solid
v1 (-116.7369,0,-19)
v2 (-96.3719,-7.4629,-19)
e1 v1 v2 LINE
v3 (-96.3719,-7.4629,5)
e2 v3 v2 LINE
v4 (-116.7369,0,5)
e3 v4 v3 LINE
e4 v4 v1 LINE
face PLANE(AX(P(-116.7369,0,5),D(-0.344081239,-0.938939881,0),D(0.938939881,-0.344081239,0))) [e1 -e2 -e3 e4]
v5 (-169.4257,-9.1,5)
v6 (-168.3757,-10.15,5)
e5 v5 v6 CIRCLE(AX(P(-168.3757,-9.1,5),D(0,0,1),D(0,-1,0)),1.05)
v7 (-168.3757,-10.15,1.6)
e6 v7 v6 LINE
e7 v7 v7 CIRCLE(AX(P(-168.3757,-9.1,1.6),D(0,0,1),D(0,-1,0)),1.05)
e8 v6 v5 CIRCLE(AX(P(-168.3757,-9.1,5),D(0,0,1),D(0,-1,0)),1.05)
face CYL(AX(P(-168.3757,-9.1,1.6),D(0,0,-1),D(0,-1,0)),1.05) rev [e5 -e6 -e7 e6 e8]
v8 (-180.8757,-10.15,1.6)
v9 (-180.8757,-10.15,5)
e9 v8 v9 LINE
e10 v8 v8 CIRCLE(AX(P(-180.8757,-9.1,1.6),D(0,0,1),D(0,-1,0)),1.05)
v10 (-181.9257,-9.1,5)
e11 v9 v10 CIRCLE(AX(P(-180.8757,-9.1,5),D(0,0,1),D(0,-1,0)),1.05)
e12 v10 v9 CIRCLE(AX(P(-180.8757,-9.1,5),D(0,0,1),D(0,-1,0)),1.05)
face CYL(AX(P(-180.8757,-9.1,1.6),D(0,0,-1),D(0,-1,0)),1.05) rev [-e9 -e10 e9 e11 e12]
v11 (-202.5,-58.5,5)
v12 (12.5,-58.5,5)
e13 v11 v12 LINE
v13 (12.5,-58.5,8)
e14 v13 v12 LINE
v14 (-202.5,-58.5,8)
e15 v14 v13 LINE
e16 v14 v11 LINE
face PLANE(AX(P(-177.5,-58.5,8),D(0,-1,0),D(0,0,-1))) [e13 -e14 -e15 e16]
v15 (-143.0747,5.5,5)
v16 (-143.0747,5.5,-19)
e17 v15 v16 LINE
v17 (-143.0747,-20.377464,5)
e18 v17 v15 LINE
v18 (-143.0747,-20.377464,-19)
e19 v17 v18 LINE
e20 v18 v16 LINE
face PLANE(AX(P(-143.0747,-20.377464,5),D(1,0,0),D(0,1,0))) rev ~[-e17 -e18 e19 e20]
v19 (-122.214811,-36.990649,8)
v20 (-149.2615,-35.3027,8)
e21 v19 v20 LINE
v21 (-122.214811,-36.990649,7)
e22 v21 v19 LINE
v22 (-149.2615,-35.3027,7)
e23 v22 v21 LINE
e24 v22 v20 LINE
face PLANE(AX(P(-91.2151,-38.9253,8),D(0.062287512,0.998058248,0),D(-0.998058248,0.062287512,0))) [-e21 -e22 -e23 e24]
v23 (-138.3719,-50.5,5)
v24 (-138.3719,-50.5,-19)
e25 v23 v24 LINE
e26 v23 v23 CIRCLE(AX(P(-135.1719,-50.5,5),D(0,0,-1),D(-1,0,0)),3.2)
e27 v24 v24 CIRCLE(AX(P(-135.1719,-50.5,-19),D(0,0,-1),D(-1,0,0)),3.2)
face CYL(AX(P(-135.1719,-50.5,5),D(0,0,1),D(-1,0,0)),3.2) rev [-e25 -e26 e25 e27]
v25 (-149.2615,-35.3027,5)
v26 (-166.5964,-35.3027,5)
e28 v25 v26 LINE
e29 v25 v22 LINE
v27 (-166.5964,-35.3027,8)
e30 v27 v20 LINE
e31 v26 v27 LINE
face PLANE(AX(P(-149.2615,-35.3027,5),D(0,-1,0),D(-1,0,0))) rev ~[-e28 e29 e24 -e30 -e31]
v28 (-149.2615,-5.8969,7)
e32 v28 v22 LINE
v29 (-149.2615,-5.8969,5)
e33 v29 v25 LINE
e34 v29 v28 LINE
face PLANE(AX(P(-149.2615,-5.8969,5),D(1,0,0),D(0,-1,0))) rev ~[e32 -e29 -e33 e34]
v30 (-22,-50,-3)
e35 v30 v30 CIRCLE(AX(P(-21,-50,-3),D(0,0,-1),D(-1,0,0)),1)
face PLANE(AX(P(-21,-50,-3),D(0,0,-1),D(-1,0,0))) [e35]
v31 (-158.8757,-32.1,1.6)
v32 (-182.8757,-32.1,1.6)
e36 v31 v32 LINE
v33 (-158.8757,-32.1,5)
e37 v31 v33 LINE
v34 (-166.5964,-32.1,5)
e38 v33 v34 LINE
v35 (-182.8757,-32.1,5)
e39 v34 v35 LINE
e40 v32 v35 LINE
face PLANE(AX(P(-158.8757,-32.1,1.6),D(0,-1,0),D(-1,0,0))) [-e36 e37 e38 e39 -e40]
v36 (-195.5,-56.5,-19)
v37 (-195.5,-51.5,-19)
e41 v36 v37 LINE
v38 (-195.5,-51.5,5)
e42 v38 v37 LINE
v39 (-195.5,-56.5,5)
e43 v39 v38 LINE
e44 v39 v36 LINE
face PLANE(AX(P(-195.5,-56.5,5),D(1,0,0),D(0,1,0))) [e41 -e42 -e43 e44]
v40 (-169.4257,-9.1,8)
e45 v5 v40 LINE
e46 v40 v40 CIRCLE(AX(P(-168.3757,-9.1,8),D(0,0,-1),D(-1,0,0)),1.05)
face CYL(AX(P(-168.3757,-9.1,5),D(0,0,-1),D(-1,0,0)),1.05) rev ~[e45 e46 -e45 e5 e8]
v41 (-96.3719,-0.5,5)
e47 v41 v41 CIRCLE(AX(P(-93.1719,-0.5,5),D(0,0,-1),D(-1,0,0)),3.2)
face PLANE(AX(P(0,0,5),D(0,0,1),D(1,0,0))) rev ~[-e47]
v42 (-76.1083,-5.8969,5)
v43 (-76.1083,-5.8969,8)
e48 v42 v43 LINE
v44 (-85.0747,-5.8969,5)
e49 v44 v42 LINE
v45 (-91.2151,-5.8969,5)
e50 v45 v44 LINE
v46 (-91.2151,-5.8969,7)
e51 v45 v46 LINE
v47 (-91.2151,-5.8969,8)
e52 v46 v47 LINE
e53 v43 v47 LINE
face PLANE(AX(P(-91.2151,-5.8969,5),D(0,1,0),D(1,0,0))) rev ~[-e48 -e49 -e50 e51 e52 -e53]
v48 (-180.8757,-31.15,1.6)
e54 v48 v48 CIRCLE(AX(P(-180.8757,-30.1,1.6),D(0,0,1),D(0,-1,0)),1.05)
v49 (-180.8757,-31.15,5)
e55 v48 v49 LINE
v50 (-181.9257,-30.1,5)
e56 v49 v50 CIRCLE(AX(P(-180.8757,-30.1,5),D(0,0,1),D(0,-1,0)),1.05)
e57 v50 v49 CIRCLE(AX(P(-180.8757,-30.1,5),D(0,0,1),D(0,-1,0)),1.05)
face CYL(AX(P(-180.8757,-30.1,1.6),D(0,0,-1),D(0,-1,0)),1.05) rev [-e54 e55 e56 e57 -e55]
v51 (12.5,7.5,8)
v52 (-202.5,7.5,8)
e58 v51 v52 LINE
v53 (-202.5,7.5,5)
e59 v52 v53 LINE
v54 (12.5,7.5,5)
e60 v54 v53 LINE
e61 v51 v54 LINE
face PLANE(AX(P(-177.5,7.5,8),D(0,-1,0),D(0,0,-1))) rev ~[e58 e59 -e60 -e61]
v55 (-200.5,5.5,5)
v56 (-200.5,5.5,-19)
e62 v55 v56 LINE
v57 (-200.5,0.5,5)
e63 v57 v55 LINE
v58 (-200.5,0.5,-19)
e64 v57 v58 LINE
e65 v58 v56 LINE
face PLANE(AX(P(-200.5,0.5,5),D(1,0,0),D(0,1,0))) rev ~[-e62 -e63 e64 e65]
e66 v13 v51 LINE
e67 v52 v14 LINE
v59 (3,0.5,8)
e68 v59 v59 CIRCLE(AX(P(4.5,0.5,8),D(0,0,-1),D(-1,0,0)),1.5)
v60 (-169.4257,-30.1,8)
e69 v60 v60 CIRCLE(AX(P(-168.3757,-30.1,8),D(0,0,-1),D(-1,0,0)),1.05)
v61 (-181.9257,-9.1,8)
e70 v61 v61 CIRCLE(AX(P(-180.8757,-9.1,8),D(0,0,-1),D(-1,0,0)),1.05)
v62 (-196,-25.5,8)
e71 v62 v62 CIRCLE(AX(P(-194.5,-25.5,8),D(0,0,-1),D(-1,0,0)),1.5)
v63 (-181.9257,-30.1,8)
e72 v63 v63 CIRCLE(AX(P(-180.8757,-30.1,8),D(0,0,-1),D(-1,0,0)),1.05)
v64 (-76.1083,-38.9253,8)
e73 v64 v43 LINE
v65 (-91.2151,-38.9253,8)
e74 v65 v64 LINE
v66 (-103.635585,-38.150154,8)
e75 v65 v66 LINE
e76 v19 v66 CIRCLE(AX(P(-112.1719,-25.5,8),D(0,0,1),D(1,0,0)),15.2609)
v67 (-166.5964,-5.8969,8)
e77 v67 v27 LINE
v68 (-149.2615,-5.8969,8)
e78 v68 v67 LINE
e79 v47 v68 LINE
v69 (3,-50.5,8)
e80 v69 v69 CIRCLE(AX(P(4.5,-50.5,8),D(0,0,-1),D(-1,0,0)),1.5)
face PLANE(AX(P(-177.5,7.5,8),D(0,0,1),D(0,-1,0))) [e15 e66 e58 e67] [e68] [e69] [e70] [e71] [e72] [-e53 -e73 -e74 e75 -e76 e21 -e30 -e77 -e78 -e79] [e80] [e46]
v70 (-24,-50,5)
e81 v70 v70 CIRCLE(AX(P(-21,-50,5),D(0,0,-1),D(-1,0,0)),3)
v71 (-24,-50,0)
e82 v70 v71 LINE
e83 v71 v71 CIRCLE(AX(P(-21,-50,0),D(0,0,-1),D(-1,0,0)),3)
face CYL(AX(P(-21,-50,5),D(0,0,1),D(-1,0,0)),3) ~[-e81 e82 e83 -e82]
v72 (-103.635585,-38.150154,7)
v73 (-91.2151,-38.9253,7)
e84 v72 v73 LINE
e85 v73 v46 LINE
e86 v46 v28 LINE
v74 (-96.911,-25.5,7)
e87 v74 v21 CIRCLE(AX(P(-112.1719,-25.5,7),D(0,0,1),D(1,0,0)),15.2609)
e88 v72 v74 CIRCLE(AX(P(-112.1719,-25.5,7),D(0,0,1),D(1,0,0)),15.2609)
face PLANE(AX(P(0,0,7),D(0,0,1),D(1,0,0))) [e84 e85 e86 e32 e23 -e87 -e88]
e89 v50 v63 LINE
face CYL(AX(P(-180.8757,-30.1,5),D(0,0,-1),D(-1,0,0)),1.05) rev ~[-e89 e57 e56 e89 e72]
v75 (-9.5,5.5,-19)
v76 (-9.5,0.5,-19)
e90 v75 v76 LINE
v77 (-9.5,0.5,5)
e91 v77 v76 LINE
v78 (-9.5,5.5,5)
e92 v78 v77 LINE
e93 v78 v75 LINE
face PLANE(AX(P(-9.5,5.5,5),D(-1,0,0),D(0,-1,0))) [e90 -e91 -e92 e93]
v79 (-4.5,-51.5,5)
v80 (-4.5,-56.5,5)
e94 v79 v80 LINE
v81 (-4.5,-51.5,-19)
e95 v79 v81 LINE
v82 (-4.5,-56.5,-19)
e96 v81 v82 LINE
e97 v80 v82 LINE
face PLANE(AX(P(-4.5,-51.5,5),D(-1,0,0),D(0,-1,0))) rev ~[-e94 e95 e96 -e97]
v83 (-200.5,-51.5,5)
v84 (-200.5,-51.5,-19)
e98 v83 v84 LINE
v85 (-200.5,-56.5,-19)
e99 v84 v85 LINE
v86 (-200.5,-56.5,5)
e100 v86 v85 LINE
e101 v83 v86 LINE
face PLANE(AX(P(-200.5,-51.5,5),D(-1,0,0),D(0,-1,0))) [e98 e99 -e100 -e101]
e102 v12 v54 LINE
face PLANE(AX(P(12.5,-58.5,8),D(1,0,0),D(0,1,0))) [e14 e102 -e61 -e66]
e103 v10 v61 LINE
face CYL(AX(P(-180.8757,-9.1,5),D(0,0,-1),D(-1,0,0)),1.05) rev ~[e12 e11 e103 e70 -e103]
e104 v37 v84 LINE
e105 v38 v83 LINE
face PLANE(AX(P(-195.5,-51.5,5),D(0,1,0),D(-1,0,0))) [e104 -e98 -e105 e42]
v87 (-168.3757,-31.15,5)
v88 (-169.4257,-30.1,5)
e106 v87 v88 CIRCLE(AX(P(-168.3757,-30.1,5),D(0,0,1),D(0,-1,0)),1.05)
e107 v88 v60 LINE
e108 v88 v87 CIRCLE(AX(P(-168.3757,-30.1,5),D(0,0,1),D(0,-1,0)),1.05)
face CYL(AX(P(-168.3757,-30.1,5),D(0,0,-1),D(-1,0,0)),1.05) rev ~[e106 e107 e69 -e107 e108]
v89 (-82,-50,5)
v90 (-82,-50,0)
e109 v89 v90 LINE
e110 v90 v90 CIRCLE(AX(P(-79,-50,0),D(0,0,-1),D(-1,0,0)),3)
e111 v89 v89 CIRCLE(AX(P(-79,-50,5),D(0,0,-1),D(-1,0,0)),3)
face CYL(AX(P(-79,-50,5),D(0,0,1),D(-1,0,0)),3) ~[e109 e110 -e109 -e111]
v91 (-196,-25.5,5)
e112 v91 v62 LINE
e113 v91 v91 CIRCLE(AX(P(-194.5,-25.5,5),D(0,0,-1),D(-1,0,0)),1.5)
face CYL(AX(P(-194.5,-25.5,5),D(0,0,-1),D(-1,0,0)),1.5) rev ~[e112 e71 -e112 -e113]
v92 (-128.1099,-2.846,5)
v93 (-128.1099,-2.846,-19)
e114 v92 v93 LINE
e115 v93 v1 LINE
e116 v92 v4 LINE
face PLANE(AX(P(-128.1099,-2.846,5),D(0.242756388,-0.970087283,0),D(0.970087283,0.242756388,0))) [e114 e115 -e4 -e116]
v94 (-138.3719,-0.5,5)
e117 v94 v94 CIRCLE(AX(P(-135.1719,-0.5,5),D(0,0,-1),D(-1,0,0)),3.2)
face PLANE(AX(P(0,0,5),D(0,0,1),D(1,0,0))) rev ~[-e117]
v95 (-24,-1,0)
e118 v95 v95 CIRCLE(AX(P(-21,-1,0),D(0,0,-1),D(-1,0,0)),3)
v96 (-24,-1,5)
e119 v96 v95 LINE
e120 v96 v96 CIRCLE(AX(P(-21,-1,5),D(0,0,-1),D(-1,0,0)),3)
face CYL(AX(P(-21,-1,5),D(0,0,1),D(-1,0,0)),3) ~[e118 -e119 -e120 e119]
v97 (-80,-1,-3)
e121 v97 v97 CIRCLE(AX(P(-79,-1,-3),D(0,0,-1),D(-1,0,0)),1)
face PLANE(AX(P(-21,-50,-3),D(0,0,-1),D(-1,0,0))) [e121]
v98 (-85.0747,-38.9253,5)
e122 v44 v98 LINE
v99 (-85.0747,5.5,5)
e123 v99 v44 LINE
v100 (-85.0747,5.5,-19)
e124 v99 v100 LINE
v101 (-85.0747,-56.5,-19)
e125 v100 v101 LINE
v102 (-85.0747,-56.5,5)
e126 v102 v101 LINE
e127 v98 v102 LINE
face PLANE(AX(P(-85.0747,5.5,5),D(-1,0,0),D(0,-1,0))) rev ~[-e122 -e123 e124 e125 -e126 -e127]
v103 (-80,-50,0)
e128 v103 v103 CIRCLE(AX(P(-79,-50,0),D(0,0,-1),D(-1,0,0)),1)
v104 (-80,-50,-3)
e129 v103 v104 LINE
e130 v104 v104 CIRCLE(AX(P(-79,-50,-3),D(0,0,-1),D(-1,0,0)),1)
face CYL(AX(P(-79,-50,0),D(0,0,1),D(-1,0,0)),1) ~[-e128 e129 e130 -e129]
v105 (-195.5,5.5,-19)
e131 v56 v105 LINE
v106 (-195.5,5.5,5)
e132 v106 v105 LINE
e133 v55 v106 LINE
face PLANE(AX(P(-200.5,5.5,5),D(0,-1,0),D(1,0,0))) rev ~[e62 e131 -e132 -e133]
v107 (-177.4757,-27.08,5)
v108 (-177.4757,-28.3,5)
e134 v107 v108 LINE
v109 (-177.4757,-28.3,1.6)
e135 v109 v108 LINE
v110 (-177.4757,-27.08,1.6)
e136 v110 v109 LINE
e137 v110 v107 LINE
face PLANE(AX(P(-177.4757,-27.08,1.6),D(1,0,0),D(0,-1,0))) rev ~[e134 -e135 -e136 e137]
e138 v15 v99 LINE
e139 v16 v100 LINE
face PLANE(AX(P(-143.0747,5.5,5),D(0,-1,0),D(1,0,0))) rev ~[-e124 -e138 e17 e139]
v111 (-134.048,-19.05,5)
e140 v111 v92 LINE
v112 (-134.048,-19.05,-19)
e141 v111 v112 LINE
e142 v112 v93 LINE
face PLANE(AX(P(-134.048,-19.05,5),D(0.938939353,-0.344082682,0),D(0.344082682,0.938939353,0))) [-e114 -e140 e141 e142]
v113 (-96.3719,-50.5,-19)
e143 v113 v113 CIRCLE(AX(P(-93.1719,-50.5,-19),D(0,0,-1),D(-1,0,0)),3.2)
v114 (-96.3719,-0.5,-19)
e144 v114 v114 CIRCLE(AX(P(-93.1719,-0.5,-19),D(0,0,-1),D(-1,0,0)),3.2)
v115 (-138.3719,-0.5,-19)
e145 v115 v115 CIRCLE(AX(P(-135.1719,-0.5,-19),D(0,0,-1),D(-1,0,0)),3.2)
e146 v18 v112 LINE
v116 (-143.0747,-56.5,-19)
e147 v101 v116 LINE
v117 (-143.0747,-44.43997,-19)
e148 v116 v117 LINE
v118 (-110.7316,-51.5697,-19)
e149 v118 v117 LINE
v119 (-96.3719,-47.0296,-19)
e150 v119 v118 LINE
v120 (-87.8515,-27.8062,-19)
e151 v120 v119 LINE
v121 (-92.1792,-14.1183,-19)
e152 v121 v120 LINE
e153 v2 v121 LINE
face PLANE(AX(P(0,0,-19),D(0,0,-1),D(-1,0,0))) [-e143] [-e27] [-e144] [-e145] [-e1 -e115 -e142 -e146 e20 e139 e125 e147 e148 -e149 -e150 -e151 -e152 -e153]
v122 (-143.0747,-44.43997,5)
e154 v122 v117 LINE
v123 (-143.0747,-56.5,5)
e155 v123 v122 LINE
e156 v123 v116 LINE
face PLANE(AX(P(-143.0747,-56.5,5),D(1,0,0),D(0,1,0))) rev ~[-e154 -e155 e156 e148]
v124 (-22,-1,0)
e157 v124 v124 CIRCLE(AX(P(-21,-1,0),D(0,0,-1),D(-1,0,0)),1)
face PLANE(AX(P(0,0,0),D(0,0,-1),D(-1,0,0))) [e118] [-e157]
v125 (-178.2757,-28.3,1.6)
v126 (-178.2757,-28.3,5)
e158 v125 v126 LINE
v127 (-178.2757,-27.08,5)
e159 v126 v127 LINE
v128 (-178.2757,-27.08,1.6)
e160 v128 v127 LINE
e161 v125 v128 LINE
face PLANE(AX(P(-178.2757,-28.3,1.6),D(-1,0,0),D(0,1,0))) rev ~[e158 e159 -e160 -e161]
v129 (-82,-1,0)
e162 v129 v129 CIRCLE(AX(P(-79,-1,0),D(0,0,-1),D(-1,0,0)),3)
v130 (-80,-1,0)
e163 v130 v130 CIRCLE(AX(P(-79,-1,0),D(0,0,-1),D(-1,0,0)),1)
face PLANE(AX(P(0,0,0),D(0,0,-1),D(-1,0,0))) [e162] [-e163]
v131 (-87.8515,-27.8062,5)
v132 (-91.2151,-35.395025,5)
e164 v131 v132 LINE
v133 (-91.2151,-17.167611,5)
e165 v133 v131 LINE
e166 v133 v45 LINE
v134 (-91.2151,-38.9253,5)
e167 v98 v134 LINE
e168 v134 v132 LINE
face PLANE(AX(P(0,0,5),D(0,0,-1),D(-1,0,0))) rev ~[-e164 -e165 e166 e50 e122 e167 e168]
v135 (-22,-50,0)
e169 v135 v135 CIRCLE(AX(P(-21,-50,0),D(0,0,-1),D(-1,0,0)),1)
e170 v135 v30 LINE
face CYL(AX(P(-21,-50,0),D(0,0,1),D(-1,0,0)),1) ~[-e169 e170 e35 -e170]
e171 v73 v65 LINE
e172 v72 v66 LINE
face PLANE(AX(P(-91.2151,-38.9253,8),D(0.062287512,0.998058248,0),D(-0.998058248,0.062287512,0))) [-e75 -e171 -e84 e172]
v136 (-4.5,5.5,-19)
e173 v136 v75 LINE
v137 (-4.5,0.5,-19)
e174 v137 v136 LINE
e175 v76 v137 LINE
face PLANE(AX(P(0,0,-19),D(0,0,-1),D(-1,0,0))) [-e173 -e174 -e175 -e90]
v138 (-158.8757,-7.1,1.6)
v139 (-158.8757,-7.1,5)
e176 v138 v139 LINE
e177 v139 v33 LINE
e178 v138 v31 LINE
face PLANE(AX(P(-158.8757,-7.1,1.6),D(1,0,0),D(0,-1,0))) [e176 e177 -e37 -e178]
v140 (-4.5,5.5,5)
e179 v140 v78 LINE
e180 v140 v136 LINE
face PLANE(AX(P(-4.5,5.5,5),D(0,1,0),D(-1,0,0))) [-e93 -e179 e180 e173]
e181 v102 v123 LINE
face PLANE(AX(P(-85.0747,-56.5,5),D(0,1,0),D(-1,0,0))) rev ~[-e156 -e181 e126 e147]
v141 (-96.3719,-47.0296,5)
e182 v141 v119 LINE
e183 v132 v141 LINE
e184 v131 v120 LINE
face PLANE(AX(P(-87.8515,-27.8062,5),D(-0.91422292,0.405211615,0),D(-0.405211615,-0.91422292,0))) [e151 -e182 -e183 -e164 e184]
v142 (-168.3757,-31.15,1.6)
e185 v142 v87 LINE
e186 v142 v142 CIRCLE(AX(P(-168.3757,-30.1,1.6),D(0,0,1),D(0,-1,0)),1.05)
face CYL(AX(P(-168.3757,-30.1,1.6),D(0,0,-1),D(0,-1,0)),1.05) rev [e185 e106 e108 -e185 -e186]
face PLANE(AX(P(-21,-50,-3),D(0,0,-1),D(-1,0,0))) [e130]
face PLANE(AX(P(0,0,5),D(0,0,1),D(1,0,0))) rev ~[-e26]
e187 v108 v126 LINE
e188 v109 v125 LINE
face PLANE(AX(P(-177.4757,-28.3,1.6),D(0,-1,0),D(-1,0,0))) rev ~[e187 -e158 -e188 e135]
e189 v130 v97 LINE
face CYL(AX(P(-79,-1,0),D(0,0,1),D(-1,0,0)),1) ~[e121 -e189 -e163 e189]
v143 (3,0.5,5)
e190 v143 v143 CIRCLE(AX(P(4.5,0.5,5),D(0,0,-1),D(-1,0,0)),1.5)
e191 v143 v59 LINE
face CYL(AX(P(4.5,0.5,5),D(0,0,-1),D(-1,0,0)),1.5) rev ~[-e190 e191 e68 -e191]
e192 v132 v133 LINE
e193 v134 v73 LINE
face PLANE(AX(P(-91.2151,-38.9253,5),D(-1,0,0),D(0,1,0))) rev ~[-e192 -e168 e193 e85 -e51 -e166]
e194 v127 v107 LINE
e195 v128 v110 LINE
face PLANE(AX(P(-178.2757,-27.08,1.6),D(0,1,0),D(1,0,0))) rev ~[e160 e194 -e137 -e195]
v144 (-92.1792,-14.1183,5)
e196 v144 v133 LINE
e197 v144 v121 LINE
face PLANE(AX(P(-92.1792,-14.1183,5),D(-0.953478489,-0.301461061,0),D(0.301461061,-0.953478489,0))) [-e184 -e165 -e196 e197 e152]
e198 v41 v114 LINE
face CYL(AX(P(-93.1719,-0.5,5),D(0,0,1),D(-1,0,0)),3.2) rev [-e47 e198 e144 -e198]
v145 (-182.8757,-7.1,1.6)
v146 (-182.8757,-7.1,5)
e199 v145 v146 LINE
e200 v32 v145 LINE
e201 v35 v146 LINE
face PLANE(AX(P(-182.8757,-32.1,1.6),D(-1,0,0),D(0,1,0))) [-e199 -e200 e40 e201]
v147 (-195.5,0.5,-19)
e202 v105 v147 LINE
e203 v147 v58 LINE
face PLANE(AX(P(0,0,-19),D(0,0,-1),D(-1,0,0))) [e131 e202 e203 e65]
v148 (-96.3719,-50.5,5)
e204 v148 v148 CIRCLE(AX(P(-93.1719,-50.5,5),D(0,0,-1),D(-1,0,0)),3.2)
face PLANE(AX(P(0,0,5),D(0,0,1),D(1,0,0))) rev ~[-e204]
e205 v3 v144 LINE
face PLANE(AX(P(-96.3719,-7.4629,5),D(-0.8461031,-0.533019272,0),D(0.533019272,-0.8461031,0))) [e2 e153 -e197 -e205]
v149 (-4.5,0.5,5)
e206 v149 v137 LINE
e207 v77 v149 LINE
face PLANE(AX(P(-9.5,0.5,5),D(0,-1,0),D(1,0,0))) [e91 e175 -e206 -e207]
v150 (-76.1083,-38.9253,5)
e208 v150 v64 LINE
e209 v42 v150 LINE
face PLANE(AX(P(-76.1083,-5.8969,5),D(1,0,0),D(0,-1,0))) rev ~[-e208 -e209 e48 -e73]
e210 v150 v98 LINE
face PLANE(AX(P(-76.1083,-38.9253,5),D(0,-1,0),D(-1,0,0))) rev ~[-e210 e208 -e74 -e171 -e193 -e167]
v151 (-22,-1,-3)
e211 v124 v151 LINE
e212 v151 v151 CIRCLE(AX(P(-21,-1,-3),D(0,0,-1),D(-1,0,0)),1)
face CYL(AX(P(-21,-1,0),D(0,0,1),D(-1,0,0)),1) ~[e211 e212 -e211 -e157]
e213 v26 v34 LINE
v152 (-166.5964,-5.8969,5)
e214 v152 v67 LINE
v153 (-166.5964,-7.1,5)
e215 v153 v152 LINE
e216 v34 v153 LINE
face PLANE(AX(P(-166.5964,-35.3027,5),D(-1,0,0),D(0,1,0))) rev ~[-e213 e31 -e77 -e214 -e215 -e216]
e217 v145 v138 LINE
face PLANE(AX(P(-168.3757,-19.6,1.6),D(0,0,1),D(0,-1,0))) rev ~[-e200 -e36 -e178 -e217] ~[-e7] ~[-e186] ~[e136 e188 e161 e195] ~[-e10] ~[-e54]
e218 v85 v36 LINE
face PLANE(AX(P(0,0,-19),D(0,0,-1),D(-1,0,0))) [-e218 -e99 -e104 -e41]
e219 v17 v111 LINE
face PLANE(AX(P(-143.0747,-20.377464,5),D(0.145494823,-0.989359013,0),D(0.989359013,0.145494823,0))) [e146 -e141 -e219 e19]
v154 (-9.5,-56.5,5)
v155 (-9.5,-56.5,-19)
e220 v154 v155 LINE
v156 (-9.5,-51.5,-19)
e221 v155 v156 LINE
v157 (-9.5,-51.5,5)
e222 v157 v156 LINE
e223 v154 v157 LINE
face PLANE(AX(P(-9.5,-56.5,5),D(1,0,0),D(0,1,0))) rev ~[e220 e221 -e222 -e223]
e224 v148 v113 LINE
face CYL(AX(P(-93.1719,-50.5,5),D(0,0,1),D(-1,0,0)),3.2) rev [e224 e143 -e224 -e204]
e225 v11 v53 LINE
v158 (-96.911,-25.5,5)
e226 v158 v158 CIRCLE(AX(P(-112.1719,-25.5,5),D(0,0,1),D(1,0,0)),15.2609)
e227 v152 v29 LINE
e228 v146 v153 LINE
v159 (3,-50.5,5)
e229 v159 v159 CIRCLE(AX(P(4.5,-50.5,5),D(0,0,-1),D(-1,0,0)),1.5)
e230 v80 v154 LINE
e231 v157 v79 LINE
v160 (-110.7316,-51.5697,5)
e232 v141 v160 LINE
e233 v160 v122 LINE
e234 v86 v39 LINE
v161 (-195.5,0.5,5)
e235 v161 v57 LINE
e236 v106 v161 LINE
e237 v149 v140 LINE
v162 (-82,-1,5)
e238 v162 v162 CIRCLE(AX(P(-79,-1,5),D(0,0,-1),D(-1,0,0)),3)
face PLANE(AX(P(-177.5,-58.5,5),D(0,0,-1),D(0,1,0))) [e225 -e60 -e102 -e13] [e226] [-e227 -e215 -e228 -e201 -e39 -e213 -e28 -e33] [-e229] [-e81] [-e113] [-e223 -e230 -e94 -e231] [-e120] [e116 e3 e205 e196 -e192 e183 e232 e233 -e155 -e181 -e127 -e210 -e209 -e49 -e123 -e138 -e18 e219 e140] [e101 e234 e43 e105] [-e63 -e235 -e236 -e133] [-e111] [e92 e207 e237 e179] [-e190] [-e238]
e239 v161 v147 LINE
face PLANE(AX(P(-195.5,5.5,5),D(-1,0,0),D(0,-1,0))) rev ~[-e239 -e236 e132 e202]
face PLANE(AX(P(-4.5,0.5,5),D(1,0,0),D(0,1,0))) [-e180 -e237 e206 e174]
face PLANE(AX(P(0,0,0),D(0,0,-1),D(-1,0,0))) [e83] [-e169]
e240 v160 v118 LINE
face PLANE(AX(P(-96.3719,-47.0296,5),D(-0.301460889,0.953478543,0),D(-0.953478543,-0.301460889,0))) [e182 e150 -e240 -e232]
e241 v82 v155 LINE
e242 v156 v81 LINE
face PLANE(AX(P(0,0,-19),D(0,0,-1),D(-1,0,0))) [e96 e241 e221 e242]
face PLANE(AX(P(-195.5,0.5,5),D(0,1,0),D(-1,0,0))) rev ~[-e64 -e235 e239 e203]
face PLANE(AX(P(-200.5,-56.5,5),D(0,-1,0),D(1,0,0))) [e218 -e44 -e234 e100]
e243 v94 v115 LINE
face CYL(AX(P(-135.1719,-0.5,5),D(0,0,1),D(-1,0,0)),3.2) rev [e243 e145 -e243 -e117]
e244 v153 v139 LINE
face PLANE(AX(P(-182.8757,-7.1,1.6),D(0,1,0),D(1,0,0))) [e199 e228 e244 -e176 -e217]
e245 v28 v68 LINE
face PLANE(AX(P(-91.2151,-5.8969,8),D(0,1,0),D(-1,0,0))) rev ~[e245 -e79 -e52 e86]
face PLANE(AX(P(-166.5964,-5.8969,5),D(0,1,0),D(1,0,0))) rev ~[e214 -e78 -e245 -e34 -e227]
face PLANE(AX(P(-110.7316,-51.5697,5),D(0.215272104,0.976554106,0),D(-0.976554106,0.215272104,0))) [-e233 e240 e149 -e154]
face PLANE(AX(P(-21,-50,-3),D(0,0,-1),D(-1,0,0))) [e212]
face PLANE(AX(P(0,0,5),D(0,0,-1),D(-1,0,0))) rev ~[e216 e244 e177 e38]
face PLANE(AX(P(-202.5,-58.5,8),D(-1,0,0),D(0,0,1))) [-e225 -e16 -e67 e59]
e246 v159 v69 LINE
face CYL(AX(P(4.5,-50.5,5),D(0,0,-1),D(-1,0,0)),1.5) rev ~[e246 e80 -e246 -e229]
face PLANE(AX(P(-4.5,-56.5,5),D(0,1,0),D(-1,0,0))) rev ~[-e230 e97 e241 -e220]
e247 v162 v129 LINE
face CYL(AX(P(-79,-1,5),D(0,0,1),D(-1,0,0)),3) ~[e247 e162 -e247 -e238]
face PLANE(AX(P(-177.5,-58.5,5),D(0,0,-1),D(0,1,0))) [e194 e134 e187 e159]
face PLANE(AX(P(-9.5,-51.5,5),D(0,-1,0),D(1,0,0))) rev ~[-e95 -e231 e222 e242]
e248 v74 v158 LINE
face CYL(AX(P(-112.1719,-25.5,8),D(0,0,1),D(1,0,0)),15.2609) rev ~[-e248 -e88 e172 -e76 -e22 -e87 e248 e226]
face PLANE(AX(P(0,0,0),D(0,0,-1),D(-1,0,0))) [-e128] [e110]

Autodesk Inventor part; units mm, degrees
ref_plane "YZ Plane" through (0, 0, 0) normal (1, 0, 0) x (0, 1, 0)
ref_plane "XZ Plane" through (0, 0, 0) normal (0, 1, 0) x (-1, 0, 0)
ref_plane "Arbeitsebene1" through (0, 0, 8) normal (0, 0, 1) x (1, 0, 0)
sketch "Skizze1" plane through (0, 0, 8) normal (0, 0, 1) x (1, 0, 0)
  arc A0 (2.5, 0) -> (0, 2.5) centre (0, 0) ccw projected
  line L0 (-80, 2.5) -> (0, 2.5) projected
  arc A1 (-80, 2.5) -> (-82.5, 0) centre (-80, 0) ccw projected
  line L1 (-82.5, -51) -> (-82.5, 0) projected
  arc A2 (-82.5, -51) -> (-80, -53.5) centre (-80, -51) ccw projected
  line L2 (0, -53.5) -> (-80, -53.5) projected
  arc A3 (0, -53.5) -> (2.5, -51) centre (0, -51) ccw projected
  line L3 (2.5, 0) -> (2.5, -51) projected
  circle A4 centre (-21, -1) radius 1.25 projected
  circle A5 centre (-79, -1) radius 1.25 projected
  circle A6 centre (-79, -50) radius 1.25 projected
  circle A7 centre (-21, -50) radius 1.25 projected
  line L4 (12.5, 7.5) -> (-177.5, 7.5)
  line L5 (-177.5, 7.5) -> (-177.5, -58.5)
  line L6 (-177.5, -58.5) -> (12.5, -58.5)
  line L7 (12.5, -58.5) -> (12.5, 7.5)
  dimension "d0" = 5
  dimension "d1" = 5
  dimension "d2" = 10
  dimension "d3" = 95
extrude "Extrusion1" add sketch "Skizze1" against normal blind 3 contours L3 A3 L2 A2 L1 A1 L0 A0 | A4 | A5 | A6 | A7 | L7 L6 L5 L4
sketch "Skizze2" plane through (0, 0, 8) normal (0, 0, 1) x (1, 0, 0)
  line L0 (-112.1719, -23.0218) -> (-112.1719, -58.5) construction
  line L1 (12.5, -58.5) -> (-177.5, -58.5) construction
  line L2 (-112.1719, -23.0218) -> (-112.1719, 7.5) construction
  line L3 (-177.5, 7.5) -> (12.5, 7.5) construction
  circle A0 centre (-112.1719, -25.5) radius 12.8913 construction
  circle A1 centre (-112.1719, -25.5) radius 15.2609
  point P0 (0, 0)
  dimension "d6" = 66
extrude "Extrusion2" cut sketch "Skizze2" against normal blind 3
sketch "Skizze3" plane through (0, 0, 5) normal (0, 0, -1) x (-1, 0, 0)
  circle A0 centre (79, -1) radius 1.25 projected
  circle A1 centre (79, -50) radius 1.25 projected
  circle A2 centre (21, -50) radius 1.25 projected
  circle A3 centre (21, -1) radius 1.25 projected
  circle A4 centre (79, -1) radius 3
  circle A5 centre (79, -50) radius 3
  circle A6 centre (21, -1) radius 3
  circle A7 centre (21, -50) radius 3
  point P0 (0, 0)
  dimension "d9" = 6
  dimension "d10" = 6
  dimension "d11" = 6
  dimension "d12" = 6
ref_plane "Arbeitsebene2" through (-82.5, -53.5, 0) normal (0, 0, 1) x (1, 0, 0)
extrude "Extrusion3" add sketch "Skizze3" along normal up to surface (5 mm away) contours A0 | A1 | A2 | A3 | A4 | A5 | A6 | A7
sketch "Skizze4" plane through (-21, -50, 0) normal (0, 0, -1) x (-1, 0, 0)
  circle A0 centre (0, 49) radius 3 projected
  circle A1 centre (58, 49) radius 3 projected
  circle A2 centre (58, 0) radius 3 projected
  circle A3 centre (0, 0) radius 3 projected
  circle A4 centre (0, 49) radius 1
  circle A5 centre (58, 49) radius 1
  circle A6 centre (58, 0) radius 1
  circle A7 centre (0, 0) radius 1
  point P0 (-21, 50)
  dimension "d15" = 2
  dimension "d16" = 2
  dimension "d17" = 2
  dimension "d18" = 2
extrude "Extrusion4" add sketch "Skizze4" along normal blind 3 contours A4 | A5 | A6 | A7
sketch "Skizze8" plane through (0, 0, 5) normal (0, 0, -1) x (-1, 0, 0)
  line L0 (135.1719, -0.5) -> (93.1719, -0.5) construction
  line L1 (93.1719, -0.5) -> (93.1719, -50.5) construction
  line L2 (93.1719, -50.5) -> (135.1719, -50.5) construction
  line L3 (135.1719, -50.5) -> (135.1719, -0.5) construction
  line L4 (135.1719, -0.5) -> (93.1719, -50.5) construction
  line L5 (93.1719, -0.5) -> (135.1719, -50.5) construction
  circle A0 centre (135.1719, -0.5) radius 3.2
  circle A1 centre (135.1719, -50.5) radius 3.2
  circle A2 centre (93.1719, -0.5) radius 3.2
  circle A3 centre (93.1719, -50.5) radius 3.2
  circle A4 centre (112.1719, -25.5) radius 15 projected
  line L6 (144.3139, -20.5597) -> (134.048, -19.05)
  line L7 (134.048, -19.05) -> (128.1099, -2.846)
  line L8 (128.1099, -2.846) -> (116.7369, 0)
  line L9 (116.7369, 0) -> (96.3719, -7.4629)
  line L10 (96.3719, -7.4629) -> (92.1792, -14.1183)
  line L11 (92.1792, -14.1183) -> (87.8515, -27.8062)
  line L12 (87.8515, -27.8062) -> (96.3719, -47.0296)
  line L13 (96.3719, -47.0296) -> (110.7316, -51.5697)
  line L14 (110.7316, -51.5697) -> (144.3139, -44.1668)
  line L15 (144.3139, -44.1668) -> (144.3139, -20.5597)
  line L16 (143.0747, 5.5) -> (85.0747, 5.5)
  line L17 (85.0747, 5.5) -> (85.0747, -56.5)
  line L18 (85.0747, -56.5) -> (143.0747, -56.5)
  line L19 (143.0747, -56.5) -> (143.0747, 5.5)
  line L20 (143.0747, 5.5) -> (85.0747, -56.5) construction
  line L21 (85.0747, 5.5) -> (143.0747, -56.5) construction
  line L22 (200.5, -56.5) -> (195.5, -56.5)
  line L23 (195.5, -56.5) -> (195.5, -51.5)
  line L24 (195.5, -51.5) -> (200.5, -51.5)
  line L25 (200.5, -51.5) -> (200.5, -56.5)
  line L26 (177.5, -58.5) -> (177.5, 7.5) projected
  line L27 (200.5, 5.5) -> (195.5, 5.5)
  line L28 (195.5, 5.5) -> (195.5, 0.5)
  line L29 (195.5, 0.5) -> (200.5, 0.5)
  line L30 (200.5, 0.5) -> (200.5, 5.5)
  line L31 (4.5, 5.5) -> (9.5, 5.5)
  line L32 (9.5, 5.5) -> (9.5, 0.5)
  line L33 (9.5, 0.5) -> (4.5, 0.5)
  line L34 (4.5, 0.5) -> (4.5, 5.5)
  line L35 (4.5, -56.5) -> (9.5, -56.5)
  line L36 (9.5, -56.5) -> (9.5, -51.5)
  line L37 (9.5, -51.5) -> (4.5, -51.5)
  line L38 (4.5, -51.5) -> (4.5, -56.5)
  point P0 (0, 0)
  point P1 (114.1719, -25.5)
  point P2 (114.0747, -25.5)
  dimension "d24" = 42
  dimension "d25" = 50
  dimension "d26" = 6.4
  dimension "d27" = 6.4
  dimension "d28" = 6.4
  dimension "d29" = 6.4
  dimension "d30" = 2
  dimension "d31" = 0
  dimension "d32" = 58
  dimension "d33" = 62
  dimension "d34" = 0
  dimension "d44" = 5
  dimension "d46" = 5
  dimension "d47" = 5
  dimension "d48" = 5
  dimension "d49" = 5
  dimension "d50" = 5
  dimension "d51" = 5
  dimension "d52" = 5
  dimension "d56" = 0
  dimension "d57" = 23
extrude "Extrusion6" add sketch "Skizze8" along normal blind 24 contours L6 L7 L8 L9 L10 L11 L12 L13 L14 L19 L18 L17 L16 | L22 L23 L24 L25 | L30 L29 L28 L27 | L31 L32 L33 L34 | L38 L37 L36 L35
sketch "Skizze9" plane through (0, 0, -19) normal (0, 0, -1) x (-1, 0, 0)
  line L0 (143.0747, -44.44) -> (110.7316, -51.5697) projected
  line L1 (110.7316, -51.5697) -> (96.3719, -47.0296) projected
  line L2 (96.3719, -47.0296) -> (87.8515, -27.8062) projected
  line L3 (87.8515, -27.8062) -> (92.1792, -14.1183) projected
  line L4 (92.1792, -14.1183) -> (96.3719, -7.4629) projected
  line L5 (96.3719, -7.4629) -> (116.7369, 0) projected
  line L6 (116.7369, 0) -> (128.1099, -2.846) projected
  line L7 (128.1099, -2.846) -> (134.048, -19.05) projected
  line L8 (134.048, -19.05) -> (143.0747, -20.3774) projected
  circle A0 centre (93.1719, -50.5) radius 3.2 projected
  circle A1 centre (93.1719, -0.5) radius 3.2 projected
  circle A2 centre (135.1719, -50.5) radius 3.2 projected
  circle A3 centre (135.1719, -0.5) radius 3.2 projected
  line L9 (143.0747, 5.5) -> (85.0747, 5.5) projected
  line L10 (85.0747, 5.5) -> (85.0747, -56.5) projected
  line L11 (85.0747, -56.5) -> (143.0747, -56.5) projected
  line L12 (143.0747, -20.3774) -> (143.0747, 5.5) projected
  line L13 (145.3139, -19.696) -> (145.3139, -44.9704)
  line L14 (145.3139, -44.9704) -> (110.6854, -52.6039)
  line L15 (110.6854, -52.6039) -> (95.6405, -47.8471)
  line L16 (95.6405, -47.8471) -> (86.7839, -27.8655)
  line L17 (86.7839, -27.8655) -> (91.2645, -13.6942)
  line L18 (91.2645, -13.6942) -> (95.7076, -6.6413)
  line L19 (95.7076, -6.6413) -> (116.6814, 1.0447)
  line L20 (116.6814, 1.0447) -> (128.8665, -2.0045)
  line L21 (128.8665, -2.0045) -> (134.7822, -18.1472)
  line L22 (134.7822, -18.1472) -> (145.3139, -19.696)
  line L23 (143.0747, -56.5) -> (143.0747, -44.44) projected
  point P0 (0, 0)
  dimension "d37" = 1
sketch "Skizze15" plane through (-177.5, -58.5, 8) normal (-1, 0, 0) x (0, 0, 1)
  line L0 (0, 66) -> (0, 0) projected
  line L1 (0, 66) -> (-3, 66) projected
  line L2 (-3, 0) -> (-3, 66) projected
  line L3 (0, 0) -> (-3, 0) projected
  point P0 (-8, 58.5)
extrude "Extrusion10" add sketch "Skizze15" along normal blind 25
ref_plane "Arbeitsebene3" through (-168.3757, -19.6, 1.6) normal (0, 0, 1) x (0, -1, 0)
sketch "Skizze16" plane through (-168.3757, -19.6, 1.6) normal (0, 0, 1) x (0, -1, 0)
  line L0 (-12.5, -14.5) -> (-12.5, 9.5) projected
  line L1 (-12.5, 9.5) -> (12.5, 9.5) projected
  line L2 (12.5, 9.5) -> (12.5, -14.5) projected
  line L3 (12.5, -14.5) -> (-12.5, -14.5) projected
  circle A0 centre (10.5, -12.5) radius 1.05 projected
  circle A1 centre (10.5, 0) radius 1.05 projected
  circle A2 centre (-10.5, 0) radius 1.05 projected
  circle A3 centre (-10.5, -12.5) radius 1.05 projected
  line L4 (8.7, -9.9) -> (7.48, -9.9) projected
  line L5 (8.7, -9.1) -> (8.7, -9.9) projected
  line L6 (7.48, -9.1) -> (8.7, -9.1) projected
  line L7 (7.48, -9.9) -> (7.48, -9.1) projected
  point P0 (-19.6, 168.3757)
  point P1 (-3.5315, -12.1603)
extrude "Extrusion11" add sketch "Skizze16" along normal up to surface (3.4 mm away)
sketch "Skizze17" plane through (0, 0, 5) normal (0, 0, -1) x (-1, 0, 0)
  circle A0 centre (168.3757, -9.1) radius 1.05 projected
  circle A1 centre (180.8757, -9.1) radius 1.05 projected
  circle A2 centre (180.8757, -30.1) radius 1.05 projected
  circle A3 centre (168.3757, -30.1) radius 1.05 projected
  line L0 (149.2615, -35.3027) -> (166.5964, -35.3027)
  line L1 (166.5964, -35.3027) -> (166.5964, -5.8969)
  line L2 (166.5964, -5.8969) -> (149.2615, -5.8969)
  line L3 (149.2615, -5.8969) -> (149.2615, -35.3027)
  line L4 (76.1083, -38.9253) -> (91.2151, -38.9253)
  line L5 (91.2151, -38.9253) -> (91.2151, -5.8969)
  line L6 (91.2151, -5.8969) -> (76.1083, -5.8969)
  line L7 (76.1083, -5.8969) -> (76.1083, -38.9253)
  point P0 (0, 0)
extrude "Extrusion12" cut sketch "Skizze17" against normal blind 5
sketch "Skizze18" plane through (0, 0, 8) normal (0, 0, 1) x (1, 0, 0)
  line L0 (-91.2151, -38.9253) -> (-91.2151, -5.8969) projected
  line L1 (-91.2151, -5.8969) -> (-76.1083, -5.8969) projected
  line L2 (-76.1083, -5.8969) -> (-76.1083, -38.9253) projected
  line L3 (-76.1083, -38.9253) -> (-91.2151, -38.9253) projected
  circle A0 centre (-180.8757, -30.1) radius 1.05 projected
  circle A1 centre (-168.3757, -9.1) radius 1.05 projected
  circle A2 centre (-180.8757, -9.1) radius 1.05 projected
  circle A3 centre (-168.3757, -30.1) radius 1.05 projected
  line L4 (-166.5964, -35.3027) -> (-166.5964, -5.8969) projected
  line L5 (-166.5964, -5.8969) -> (-149.2615, -5.8969) projected
  line L6 (-149.2615, -5.8969) -> (-149.2615, -35.3027) projected
  line L7 (-149.2615, -35.3027) -> (-166.5964, -35.3027) projected
  circle A4 centre (-112.1719, -25.5) radius 15.2609 projected
  line L8 (12.5, 7.5) -> (-202.5, 7.5) projected
  line L9 (-202.5, -58.5) -> (-202.5, 7.5) projected
  line L10 (-202.5, -58.5) -> (12.5, -58.5) projected
  line L11 (12.5, -58.5) -> (12.5, 7.5) projected
  line L12 (-91.2151, -5.8969) -> (-149.2615, -5.8969)
  line L13 (-91.2151, -38.9253) -> (-149.2615, -35.3027)
  point P0 (0, 0)
extrude "Extrusion13" cut sketch "Skizze18" against normal blind 1 contours L13 A4 L6 L12 L0 | L13 A4 picked at (-111.0612, -28.7224)
sketch "Skizze19" plane through (0, 0, 5) normal (0, 0, -1) x (-1, 0, 0)
  line L0 (122.2149, -36.9906) -> (149.2615, -35.3027) projected
  line L1 (149.2615, -35.3027) -> (166.5964, -35.3027) projected
  line L2 (166.5964, -35.3027) -> (166.5964, -5.8969) projected
  line L3 (166.5964, -5.8969) -> (76.1083, -5.8969) projected
  line L4 (76.1083, -5.8969) -> (76.1083, -38.9253) projected
  line L5 (76.1083, -38.9253) -> (91.2151, -38.9253) projected
  line L6 (91.2151, -38.9253) -> (103.6356, -38.1501) projected
  arc A0 (103.6356, -38.1501) -> (122.2149, -36.9906) centre (112.1719, -25.5) ccw projected
  circle A1 centre (180.8757, -30.1) radius 1.05 projected
  circle A2 centre (168.3757, -9.1) radius 1.05 projected
  circle A3 centre (180.8757, -9.1) radius 1.05 projected
  circle A4 centre (168.3757, -30.1) radius 1.05 projected
  line L7 (-12.5, 7.5) -> (202.5, 7.5) projected
  line L8 (202.5, -58.5) -> (202.5, 7.5) projected
  line L9 (202.5, -58.5) -> (-12.5, -58.5) projected
  line L10 (-12.5, -58.5) -> (-12.5, 7.5) projected
  circle A5 centre (-4.5, -50.5) radius 1.5
  circle A6 centre (-4.5, 0.5) radius 1.5
  circle A7 centre (194.5, -25.5) radius 1.5
  point P0 (0, 0)
  dimension "d64" = 3
  dimension "d65" = 3
  dimension "d66" = 3
extrude "Extrusion14" cut sketch "Skizze19" against normal through all contours A5 | A6 | A7
properties part number "10_Grundplatte"
